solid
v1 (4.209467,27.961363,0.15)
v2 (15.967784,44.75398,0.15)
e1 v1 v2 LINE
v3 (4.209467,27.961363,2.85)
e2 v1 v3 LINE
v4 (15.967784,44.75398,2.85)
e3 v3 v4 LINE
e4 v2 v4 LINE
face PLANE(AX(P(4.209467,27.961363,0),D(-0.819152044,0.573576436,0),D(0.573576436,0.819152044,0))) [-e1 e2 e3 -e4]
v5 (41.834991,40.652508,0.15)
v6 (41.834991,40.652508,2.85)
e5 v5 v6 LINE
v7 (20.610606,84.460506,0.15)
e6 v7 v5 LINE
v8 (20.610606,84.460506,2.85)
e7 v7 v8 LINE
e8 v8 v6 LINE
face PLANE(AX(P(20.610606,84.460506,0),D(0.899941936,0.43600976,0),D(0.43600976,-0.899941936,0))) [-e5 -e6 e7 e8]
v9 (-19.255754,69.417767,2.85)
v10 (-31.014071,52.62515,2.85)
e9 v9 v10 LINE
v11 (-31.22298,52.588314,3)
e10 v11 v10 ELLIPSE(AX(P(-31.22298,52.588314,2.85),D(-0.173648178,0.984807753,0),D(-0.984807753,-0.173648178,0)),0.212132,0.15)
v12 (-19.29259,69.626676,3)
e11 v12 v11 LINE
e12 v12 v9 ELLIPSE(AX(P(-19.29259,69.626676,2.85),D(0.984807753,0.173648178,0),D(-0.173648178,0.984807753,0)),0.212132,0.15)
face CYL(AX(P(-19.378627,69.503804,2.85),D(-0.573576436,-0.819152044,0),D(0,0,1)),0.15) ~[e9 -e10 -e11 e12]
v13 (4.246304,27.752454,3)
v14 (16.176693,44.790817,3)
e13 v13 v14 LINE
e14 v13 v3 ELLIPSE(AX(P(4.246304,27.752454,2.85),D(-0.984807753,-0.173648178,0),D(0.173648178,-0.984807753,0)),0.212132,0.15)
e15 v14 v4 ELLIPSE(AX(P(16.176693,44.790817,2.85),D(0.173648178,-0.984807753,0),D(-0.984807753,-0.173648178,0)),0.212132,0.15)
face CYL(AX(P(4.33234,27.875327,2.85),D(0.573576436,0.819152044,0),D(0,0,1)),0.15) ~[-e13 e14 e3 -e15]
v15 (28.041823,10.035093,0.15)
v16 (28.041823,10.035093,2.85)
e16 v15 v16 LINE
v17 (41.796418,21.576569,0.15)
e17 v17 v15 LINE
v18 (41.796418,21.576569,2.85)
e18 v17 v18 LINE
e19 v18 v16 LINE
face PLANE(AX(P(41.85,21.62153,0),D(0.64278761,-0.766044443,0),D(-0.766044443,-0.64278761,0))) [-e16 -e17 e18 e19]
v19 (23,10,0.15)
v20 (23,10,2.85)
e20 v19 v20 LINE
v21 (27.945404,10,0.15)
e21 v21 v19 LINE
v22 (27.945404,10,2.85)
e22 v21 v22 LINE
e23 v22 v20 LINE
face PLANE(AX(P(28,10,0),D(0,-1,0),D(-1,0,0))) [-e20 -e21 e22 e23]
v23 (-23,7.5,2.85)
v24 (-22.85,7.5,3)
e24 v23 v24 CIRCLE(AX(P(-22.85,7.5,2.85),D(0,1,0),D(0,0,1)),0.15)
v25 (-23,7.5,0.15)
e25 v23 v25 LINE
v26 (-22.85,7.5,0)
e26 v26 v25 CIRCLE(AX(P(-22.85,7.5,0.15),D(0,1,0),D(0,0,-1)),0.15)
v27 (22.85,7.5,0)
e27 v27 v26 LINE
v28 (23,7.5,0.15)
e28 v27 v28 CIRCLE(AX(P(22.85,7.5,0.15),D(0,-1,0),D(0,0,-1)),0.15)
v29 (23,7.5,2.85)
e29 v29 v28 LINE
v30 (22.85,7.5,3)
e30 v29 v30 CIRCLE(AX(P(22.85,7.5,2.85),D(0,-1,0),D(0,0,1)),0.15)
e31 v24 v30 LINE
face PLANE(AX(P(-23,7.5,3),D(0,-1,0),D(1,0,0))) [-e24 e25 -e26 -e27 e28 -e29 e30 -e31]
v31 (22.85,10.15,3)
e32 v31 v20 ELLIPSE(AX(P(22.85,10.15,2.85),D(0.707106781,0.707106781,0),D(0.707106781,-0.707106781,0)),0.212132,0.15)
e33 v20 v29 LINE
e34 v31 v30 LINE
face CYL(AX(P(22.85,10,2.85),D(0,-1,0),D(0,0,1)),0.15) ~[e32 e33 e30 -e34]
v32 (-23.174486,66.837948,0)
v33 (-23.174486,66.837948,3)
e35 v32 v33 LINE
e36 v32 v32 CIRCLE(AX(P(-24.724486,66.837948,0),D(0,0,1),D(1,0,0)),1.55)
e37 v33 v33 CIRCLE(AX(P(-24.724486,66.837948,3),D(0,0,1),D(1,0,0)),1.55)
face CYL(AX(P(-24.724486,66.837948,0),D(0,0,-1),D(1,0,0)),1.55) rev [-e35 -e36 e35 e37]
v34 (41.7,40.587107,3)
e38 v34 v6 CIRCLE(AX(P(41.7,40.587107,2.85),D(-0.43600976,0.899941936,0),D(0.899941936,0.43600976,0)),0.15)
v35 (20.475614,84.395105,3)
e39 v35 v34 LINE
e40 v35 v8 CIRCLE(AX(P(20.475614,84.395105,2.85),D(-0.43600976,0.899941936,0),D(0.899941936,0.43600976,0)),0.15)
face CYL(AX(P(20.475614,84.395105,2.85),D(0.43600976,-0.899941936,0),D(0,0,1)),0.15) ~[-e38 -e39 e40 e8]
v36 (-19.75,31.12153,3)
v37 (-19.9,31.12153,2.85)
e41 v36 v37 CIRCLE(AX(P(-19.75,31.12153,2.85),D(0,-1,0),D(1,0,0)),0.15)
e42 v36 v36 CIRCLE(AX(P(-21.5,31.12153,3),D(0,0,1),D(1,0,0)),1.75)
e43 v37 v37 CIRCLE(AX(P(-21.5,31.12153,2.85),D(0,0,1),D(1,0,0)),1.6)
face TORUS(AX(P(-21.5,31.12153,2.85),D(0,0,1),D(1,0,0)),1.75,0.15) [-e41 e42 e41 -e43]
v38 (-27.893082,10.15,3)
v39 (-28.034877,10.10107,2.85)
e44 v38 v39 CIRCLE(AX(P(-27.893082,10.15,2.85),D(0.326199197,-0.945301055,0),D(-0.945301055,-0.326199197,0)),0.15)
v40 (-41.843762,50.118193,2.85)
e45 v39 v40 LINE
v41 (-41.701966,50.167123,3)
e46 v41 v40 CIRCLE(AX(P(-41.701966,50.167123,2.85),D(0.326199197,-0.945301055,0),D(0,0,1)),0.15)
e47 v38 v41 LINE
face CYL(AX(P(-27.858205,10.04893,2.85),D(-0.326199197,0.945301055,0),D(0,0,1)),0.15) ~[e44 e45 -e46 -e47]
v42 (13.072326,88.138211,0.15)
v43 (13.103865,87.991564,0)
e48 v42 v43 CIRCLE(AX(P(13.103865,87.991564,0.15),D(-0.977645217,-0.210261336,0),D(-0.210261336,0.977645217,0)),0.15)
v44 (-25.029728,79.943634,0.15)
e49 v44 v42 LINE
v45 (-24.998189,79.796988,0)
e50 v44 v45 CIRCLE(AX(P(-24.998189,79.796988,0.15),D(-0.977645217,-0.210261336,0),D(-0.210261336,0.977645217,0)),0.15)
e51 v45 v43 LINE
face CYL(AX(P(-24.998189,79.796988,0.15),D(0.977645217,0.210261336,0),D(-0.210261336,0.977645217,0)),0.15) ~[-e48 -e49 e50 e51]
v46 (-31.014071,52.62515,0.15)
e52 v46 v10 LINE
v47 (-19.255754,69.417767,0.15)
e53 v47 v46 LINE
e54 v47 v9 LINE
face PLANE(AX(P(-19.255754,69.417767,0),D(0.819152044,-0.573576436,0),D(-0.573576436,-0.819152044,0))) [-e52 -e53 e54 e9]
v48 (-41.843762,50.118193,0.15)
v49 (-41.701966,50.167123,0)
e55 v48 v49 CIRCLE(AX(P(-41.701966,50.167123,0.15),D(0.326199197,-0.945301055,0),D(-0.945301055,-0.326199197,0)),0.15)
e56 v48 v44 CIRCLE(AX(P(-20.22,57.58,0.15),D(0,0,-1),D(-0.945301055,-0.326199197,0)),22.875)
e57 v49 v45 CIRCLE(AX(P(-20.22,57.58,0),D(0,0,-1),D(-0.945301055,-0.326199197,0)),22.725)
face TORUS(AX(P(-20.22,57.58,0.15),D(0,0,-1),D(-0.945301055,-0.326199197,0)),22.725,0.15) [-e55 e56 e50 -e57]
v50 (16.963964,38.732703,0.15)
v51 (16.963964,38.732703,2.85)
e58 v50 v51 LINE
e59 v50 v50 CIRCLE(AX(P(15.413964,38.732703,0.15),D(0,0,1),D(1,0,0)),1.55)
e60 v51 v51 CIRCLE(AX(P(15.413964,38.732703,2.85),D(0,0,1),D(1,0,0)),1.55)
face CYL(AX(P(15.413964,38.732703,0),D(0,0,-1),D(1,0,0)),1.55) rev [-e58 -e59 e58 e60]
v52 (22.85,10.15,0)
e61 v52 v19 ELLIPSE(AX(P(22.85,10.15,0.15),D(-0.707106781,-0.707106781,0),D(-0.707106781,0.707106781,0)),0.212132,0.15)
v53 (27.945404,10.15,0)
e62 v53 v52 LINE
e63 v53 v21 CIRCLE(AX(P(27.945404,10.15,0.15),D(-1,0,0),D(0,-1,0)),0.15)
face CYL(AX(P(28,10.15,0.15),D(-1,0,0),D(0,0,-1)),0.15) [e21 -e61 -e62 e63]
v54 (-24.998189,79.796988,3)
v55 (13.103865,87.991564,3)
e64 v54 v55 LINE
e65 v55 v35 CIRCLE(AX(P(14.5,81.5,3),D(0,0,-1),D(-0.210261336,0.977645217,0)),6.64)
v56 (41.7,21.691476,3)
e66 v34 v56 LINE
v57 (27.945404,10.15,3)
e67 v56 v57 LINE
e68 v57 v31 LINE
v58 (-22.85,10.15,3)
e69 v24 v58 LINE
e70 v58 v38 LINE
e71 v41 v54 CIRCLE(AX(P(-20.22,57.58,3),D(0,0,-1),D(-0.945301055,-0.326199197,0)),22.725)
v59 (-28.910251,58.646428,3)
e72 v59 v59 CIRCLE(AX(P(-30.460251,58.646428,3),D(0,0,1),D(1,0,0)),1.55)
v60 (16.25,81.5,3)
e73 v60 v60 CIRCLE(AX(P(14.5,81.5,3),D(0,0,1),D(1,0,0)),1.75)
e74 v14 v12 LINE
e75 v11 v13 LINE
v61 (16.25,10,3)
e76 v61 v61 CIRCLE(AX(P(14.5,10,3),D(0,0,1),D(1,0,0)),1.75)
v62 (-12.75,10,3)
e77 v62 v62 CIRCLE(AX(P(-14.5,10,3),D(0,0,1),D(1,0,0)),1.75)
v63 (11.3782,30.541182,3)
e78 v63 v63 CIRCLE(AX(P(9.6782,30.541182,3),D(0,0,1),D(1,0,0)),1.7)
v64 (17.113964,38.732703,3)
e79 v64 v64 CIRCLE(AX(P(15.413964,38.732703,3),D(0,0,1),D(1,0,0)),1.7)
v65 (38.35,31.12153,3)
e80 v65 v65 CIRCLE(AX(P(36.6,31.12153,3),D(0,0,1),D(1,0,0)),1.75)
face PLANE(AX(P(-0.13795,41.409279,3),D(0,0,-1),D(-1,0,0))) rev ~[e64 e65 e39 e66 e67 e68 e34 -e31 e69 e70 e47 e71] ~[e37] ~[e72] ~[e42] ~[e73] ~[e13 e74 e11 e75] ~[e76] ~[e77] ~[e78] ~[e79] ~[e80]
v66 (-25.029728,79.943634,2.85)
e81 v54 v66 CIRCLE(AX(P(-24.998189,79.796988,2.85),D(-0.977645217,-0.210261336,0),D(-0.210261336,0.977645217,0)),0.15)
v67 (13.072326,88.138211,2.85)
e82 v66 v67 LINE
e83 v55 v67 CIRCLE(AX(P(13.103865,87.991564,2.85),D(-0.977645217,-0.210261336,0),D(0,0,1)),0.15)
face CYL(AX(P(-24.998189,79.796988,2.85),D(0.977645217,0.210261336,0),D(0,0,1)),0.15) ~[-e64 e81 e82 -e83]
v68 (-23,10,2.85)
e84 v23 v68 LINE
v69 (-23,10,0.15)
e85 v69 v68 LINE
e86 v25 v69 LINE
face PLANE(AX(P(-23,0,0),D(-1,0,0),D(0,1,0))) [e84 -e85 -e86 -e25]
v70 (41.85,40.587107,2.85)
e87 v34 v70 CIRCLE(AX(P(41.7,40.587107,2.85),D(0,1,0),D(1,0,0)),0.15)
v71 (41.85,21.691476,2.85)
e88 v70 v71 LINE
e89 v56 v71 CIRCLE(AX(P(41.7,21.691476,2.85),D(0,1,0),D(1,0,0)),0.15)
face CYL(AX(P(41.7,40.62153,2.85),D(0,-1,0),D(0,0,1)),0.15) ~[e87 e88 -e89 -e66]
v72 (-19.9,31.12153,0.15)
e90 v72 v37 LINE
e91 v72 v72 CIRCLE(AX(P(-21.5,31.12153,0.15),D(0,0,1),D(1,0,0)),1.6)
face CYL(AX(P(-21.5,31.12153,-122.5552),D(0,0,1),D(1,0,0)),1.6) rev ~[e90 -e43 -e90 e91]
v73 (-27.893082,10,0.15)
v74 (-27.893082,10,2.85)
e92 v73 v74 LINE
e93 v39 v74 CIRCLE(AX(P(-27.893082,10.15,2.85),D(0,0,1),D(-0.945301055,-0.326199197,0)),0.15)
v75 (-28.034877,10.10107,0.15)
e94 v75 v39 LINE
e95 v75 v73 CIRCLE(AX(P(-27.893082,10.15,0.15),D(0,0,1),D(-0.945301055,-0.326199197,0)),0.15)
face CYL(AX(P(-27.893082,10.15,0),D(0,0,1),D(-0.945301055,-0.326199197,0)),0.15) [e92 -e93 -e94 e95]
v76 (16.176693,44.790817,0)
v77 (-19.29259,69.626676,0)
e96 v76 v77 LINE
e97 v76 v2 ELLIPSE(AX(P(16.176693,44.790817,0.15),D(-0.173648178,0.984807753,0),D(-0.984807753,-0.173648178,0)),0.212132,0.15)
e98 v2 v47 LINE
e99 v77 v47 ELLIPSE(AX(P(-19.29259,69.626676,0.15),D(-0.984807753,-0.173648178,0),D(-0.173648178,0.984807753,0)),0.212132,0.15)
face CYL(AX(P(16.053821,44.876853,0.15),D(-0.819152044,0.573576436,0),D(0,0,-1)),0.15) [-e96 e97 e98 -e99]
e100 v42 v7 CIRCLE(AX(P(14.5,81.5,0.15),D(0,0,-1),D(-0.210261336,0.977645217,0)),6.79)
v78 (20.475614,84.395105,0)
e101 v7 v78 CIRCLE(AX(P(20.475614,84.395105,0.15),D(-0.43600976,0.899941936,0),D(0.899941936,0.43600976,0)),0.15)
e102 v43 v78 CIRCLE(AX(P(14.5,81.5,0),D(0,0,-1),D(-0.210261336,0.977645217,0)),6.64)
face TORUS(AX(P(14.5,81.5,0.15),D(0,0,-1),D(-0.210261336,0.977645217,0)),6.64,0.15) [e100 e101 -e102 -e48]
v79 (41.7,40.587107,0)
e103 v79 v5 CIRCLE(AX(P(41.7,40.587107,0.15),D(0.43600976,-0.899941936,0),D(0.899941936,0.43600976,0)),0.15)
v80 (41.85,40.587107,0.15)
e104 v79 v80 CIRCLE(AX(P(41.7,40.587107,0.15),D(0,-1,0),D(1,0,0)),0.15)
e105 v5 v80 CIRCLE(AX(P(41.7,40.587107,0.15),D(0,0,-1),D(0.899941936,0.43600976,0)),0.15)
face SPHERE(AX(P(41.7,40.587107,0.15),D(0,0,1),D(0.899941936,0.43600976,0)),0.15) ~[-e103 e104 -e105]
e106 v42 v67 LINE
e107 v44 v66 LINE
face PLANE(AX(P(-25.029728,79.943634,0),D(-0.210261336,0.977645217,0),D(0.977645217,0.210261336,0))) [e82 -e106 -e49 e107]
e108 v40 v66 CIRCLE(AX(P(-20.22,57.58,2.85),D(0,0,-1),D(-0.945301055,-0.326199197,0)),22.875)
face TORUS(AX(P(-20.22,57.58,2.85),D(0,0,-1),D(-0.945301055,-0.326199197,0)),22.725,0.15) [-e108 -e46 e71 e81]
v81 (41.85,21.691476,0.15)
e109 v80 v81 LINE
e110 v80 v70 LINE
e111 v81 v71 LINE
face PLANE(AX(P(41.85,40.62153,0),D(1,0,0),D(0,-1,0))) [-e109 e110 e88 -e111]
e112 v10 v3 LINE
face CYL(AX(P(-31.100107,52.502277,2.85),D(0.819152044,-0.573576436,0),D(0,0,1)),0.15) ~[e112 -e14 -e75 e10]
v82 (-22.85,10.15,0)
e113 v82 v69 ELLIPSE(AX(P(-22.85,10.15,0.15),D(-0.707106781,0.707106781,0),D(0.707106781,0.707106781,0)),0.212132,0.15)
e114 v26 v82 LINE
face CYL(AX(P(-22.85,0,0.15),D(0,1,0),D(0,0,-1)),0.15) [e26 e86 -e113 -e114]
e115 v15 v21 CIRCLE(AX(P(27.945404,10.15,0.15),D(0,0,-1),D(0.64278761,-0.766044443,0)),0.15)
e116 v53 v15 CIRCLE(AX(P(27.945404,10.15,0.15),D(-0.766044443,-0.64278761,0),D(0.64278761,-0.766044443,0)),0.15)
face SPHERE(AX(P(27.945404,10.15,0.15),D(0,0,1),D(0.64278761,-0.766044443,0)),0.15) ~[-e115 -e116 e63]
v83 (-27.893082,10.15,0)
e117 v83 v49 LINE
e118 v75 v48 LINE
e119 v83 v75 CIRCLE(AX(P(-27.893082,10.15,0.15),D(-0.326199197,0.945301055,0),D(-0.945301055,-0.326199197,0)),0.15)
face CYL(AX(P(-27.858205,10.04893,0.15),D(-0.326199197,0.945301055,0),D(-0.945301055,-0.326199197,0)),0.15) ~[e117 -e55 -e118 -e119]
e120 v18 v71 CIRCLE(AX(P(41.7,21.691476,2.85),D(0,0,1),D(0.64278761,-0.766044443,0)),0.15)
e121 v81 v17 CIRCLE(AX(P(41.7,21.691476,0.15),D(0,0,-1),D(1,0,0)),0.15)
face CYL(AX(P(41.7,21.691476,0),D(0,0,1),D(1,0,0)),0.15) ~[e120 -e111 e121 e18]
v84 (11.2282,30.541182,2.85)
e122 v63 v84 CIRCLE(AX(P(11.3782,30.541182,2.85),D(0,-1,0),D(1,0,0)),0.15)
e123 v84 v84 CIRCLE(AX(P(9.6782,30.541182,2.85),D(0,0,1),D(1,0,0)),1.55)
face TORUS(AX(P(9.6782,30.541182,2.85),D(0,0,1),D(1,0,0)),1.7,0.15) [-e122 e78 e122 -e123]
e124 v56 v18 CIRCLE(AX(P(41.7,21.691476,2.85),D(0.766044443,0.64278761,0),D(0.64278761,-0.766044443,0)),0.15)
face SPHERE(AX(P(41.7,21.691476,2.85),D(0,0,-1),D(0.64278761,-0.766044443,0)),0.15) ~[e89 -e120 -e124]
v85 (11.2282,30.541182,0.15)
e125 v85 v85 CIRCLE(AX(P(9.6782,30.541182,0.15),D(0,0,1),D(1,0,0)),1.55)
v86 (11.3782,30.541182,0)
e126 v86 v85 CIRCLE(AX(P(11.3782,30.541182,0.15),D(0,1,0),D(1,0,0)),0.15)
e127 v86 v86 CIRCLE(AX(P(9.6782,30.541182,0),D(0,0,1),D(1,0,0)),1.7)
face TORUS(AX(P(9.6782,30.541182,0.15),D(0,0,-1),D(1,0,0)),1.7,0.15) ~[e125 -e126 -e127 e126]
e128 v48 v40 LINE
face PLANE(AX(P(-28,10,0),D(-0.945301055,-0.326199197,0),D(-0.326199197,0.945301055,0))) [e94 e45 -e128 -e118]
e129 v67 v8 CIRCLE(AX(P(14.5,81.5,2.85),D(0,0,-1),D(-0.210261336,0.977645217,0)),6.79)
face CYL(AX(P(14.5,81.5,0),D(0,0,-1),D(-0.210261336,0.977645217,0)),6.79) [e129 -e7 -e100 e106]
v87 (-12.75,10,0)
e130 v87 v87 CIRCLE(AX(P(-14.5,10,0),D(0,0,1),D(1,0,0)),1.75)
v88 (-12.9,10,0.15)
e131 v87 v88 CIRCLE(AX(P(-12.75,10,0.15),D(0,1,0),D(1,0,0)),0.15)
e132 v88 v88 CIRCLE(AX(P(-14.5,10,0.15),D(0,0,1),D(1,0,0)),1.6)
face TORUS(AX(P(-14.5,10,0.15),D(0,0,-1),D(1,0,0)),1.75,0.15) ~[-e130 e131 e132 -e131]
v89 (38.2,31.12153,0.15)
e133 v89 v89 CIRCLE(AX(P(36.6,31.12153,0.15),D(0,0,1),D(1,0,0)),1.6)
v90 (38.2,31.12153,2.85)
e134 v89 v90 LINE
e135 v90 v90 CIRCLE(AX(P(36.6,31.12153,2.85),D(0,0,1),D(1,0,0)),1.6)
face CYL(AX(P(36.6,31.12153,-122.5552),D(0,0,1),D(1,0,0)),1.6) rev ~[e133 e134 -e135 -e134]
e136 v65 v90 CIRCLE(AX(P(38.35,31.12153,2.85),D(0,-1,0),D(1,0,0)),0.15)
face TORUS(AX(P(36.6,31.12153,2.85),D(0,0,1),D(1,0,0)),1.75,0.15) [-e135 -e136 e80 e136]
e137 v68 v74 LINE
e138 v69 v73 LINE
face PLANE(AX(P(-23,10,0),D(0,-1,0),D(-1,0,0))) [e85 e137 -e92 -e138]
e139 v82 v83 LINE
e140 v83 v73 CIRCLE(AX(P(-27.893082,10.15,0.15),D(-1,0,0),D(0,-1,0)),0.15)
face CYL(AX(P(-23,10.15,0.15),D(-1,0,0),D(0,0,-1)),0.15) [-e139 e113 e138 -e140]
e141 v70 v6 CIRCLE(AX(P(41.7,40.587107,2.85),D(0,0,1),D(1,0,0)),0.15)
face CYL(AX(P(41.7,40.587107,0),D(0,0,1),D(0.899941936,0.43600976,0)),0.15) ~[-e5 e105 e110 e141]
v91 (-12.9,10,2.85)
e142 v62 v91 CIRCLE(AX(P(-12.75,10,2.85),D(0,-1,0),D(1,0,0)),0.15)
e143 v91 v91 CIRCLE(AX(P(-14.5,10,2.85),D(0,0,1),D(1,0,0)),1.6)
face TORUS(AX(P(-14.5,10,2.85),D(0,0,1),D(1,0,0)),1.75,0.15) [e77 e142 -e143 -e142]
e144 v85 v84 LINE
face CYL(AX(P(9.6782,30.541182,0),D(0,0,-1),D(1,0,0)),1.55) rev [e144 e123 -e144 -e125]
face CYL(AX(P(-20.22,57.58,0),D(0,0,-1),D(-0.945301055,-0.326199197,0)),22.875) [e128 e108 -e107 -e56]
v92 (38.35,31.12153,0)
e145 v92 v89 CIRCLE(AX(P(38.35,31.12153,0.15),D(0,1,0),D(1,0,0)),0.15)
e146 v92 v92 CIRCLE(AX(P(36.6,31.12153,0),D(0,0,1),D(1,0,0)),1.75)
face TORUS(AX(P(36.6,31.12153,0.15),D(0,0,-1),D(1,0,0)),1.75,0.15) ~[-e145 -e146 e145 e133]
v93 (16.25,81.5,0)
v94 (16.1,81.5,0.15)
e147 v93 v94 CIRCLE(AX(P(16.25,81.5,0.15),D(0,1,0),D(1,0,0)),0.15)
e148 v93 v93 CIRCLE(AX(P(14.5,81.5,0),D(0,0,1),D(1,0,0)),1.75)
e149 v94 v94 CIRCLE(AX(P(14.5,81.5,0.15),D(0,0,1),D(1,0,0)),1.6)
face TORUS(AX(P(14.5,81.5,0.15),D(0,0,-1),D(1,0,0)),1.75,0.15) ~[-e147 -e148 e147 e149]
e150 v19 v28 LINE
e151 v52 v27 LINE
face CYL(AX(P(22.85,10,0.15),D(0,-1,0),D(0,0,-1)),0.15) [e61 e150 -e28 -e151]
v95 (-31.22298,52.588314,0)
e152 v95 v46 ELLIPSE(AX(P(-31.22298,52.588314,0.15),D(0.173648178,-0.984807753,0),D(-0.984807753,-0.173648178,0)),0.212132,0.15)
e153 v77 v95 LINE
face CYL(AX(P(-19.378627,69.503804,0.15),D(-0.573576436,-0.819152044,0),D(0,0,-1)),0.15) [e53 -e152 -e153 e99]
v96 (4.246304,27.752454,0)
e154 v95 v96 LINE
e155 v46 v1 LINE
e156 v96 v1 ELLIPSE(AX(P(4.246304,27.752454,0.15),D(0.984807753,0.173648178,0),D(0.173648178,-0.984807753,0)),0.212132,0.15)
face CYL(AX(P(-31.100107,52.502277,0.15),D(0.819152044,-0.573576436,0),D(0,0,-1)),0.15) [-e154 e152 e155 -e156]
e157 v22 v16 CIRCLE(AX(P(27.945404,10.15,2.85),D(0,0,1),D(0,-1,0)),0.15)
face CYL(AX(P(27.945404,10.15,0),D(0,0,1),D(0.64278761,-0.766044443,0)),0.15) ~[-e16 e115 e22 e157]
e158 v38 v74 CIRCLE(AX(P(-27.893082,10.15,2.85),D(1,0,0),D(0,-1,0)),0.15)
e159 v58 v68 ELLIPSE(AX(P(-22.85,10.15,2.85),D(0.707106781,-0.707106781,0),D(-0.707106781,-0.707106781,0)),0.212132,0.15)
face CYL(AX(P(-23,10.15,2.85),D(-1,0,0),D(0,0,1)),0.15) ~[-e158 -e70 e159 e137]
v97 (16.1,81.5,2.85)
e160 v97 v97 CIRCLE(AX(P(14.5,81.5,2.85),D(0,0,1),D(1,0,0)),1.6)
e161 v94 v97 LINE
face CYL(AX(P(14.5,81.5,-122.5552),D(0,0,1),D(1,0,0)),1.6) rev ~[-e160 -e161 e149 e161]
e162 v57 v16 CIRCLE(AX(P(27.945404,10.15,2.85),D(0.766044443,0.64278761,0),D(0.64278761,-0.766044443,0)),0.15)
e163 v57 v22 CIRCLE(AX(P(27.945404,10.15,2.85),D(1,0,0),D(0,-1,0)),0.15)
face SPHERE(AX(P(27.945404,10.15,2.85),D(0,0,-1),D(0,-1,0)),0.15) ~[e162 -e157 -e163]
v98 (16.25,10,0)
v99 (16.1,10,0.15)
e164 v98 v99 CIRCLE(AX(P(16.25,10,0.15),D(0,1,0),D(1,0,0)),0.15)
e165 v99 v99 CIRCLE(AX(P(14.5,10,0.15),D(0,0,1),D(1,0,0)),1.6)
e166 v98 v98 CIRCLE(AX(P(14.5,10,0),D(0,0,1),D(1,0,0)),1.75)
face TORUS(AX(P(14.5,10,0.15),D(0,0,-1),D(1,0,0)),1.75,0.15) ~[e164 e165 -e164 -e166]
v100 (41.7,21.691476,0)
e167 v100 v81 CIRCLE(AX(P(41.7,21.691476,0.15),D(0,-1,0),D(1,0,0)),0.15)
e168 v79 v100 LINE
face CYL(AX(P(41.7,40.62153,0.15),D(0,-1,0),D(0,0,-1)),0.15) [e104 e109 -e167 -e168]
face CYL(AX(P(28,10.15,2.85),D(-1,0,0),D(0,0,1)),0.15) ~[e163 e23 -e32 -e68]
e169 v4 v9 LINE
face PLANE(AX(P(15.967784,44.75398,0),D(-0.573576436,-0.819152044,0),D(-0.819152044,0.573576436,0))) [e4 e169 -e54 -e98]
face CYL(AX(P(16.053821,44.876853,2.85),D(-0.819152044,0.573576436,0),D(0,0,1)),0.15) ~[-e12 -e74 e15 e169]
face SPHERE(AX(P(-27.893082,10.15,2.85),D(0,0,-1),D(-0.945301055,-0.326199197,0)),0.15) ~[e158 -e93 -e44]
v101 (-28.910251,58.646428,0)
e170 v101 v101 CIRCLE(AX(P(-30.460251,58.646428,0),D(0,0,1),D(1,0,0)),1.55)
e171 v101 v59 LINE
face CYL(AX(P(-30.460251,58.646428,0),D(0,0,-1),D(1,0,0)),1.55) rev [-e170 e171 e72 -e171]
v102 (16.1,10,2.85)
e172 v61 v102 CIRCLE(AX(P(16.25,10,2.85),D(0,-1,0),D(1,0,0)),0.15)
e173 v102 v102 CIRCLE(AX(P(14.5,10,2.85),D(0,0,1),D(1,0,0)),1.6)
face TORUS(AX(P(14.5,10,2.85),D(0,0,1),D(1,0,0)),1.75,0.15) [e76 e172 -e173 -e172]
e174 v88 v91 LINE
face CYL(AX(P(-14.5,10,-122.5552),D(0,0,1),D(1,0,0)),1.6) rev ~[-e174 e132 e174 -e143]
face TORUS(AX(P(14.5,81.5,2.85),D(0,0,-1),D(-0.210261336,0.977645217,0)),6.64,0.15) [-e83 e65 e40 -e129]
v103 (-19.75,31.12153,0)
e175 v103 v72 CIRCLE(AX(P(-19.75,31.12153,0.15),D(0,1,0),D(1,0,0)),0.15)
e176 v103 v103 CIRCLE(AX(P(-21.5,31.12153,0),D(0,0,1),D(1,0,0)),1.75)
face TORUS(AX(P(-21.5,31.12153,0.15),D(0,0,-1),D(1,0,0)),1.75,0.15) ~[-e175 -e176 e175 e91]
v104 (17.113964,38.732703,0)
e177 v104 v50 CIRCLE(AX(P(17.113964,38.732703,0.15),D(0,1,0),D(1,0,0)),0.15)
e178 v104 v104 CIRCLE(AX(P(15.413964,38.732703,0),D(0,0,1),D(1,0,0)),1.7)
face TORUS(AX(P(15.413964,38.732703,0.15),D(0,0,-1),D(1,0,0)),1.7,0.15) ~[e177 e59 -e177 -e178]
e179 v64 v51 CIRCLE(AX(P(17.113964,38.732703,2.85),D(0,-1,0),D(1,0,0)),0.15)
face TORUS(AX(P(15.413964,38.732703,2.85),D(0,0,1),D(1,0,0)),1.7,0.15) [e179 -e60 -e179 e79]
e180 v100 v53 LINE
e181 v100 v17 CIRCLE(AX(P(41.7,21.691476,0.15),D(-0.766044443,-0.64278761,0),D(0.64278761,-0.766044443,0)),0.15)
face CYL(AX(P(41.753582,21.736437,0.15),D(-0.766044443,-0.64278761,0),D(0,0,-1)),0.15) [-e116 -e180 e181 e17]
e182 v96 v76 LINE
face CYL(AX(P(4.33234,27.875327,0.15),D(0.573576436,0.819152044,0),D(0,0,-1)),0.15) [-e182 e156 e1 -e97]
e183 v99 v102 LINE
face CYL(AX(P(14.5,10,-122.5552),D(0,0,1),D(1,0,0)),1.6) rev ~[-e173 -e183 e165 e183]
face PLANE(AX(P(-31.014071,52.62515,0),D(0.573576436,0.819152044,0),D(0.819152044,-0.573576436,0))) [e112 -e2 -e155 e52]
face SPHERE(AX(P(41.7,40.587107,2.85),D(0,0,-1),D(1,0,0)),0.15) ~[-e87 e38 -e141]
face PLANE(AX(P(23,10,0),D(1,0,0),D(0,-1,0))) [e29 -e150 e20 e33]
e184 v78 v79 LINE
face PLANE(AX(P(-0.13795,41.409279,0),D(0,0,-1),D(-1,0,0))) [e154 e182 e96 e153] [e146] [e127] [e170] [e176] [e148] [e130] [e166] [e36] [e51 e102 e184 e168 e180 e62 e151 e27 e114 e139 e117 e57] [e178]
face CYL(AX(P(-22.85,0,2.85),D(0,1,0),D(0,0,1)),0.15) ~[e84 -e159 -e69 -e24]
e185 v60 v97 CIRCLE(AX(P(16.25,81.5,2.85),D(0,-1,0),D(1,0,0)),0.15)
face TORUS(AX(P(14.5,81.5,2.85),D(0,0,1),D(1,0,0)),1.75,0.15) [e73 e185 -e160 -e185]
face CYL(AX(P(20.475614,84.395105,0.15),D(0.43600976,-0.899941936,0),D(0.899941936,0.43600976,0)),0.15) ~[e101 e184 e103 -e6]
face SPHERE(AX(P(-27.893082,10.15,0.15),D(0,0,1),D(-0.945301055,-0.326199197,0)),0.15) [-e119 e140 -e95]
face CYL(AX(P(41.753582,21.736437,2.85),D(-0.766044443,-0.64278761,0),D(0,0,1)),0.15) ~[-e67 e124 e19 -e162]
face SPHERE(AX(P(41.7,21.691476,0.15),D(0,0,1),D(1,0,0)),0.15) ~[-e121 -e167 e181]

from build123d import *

# Parameters (mm, degrees)
SKETCH1_R            = 1.55
BOSS_EXTRUDE1_DEPTH  = 3
M3_CLEARANCE_HOLE1_D = 3.2
FILLET1_R            = 0.15
SKETCH13_W           = 46
SKETCH13_H           = 7.5
CUT_EXTRUDE1_DEPTH   = 4


with BuildPart() as part:
    # Sketch1 → Boss-Extrude1 (new body)
    with BuildSketch(Plane.XY):
        with BuildLine():
            Line((-25.029728066, 79.943634341), (13.072325527, 88.138211024))
            ThreePointArc((13.072325527, 88.138211024), (17.477220077, 87.602479874), (20.610605748, 84.460506273))
            Line((20.610605748, 84.460506273), (41.85, 40.621529892))
            Line((41.85, 40.621529892), (41.85, 21.621529892))
            Line((41.85, 21.621529892), (28, 10))
            Line((28, 10), (23, 10))
            Line((23, 10), (23, 0))
            Line((23, 0), (-23, 0))
            Line((-23, 0), (-23, 10))
            Line((-23, 10), (-28, 10))
            Line((-28, 10), (-41.843761624, 50.118193368))
            ThreePointArc((-41.843761624, 50.118193368), (-40.146654928, 68.813612437), (-25.029728066, 79.943634341))
        make_face()
        with Locations((9.67819959, 30.541182325)):
            Circle(SKETCH1_R, mode=Mode.SUBTRACT)
        with Locations((15.413963953, 38.732702767)):
            Circle(SKETCH1_R, mode=Mode.SUBTRACT)
        with Locations((-24.724486217, 66.837948149)):
            Circle(SKETCH1_R, mode=Mode.SUBTRACT)
        with Locations((-30.46025058, 58.646427706)):
            Circle(SKETCH1_R, mode=Mode.SUBTRACT)
        Polygon((-19.255753793, 69.417767072), (-31.014070738, 52.625150164), (4.209467166, 27.961363401), (15.967784111, 44.753980309), align=None, mode=Mode.SUBTRACT)
    extrude(amount=BOSS_EXTRUDE1_DEPTH)

    # M3 Clearance Hole1 (through all)
    with Locations(Plane(origin=(0, 0, 0), x_dir=(-1, 0, 0), z_dir=(0, 0, -1))):
        with Locations((-14.5, 81.5), (-36.6, 31.121529892), (-14.5, 10), (14.5, 10), (21.5, 31.121529892)):
            Hole(M3_CLEARANCE_HOLE1_D / 2)

    # Fillet1
    fillet1_edges = [part.edges().sort_by_distance(p)[0] for p in [
        (-5.978701269, 84.040922682, 0),
        (17.477220077, 87.602479874, 0),
        (-25.5, 10, 3),
        (31.230302874, 62.541018083, 0),
        (41.85, 31.121529892, 0),
        (34.925, 15.810764946, 0),
        (25.5, 10, 0),
        (23, 5, 0),
        (0, 0, 0),
        (-23, 5, 0),
        (-25.5, 10, 0),
        (-34.921880812, 30.059096684, 0),
        (-40.146654928, 68.813612437, 0),
        (-23, 5, 3),
        (0, 0, 3),
        (41.85, 40.621529892, 1.5),
        (41.85, 21.621529892, 1.5),
        (28, 10, 1.5),
        (23, 0, 1.5),
        (-23, 0, 1.5),
        (-28, 10, 1.5),
        (23, 5, 3),
        (25.5, 10, 3),
        (34.925, 15.810764946, 3),
        (-1.643984841, 57.085873691, 0),
        (-25.134912266, 61.021458618, 0),
        (-13.402301786, 40.293256783, 0),
        (10.088625639, 36.357671855, 0),
        (-1.643984841, 57.085873691, 3),
        (-25.134912266, 61.021458618, 3),
        (-13.402301786, 40.293256783, 3),
        (10.088625639, 36.357671855, 3),
        (41.85, 31.121529892, 3),
        (31.230302874, 62.541018083, 3),
        (13.863963953, 38.732702767, 0),
        (13.863963953, 38.732702767, 3),
        (17.477220077, 87.602479874, 3),
        (8.12819959, 30.541182325, 0),
        (8.12819959, 30.541182325, 3),
        (-5.978701269, 84.040922682, 3),
        (-40.146654928, 68.813612437, 3),
        (-23.1, 31.121529892, 0),
        (-23.1, 31.121529892, 3),
        (-16.1, 10, 0),
        (-16.1, 10, 3),
        (12.9, 10, 0),
        (12.9, 10, 3),
        (35, 31.121529892, 0),
        (35, 31.121529892, 3),
        (12.9, 81.5, 0),
        (12.9, 81.5, 3),
        (-34.921880812, 30.059096684, 3),
    ]]
    fillet(fillet1_edges, radius=FILLET1_R)

    # Sketch13 → Cut-Extrude1 (cut, through all)
    with BuildSketch(Plane.XY.offset(3)):
        with Locations((0, 3.75)):
            Rectangle(SKETCH13_W, SKETCH13_H)
    extrude(amount=-CUT_EXTRUDE1_DEPTH, mode=Mode.SUBTRACT)


solid = part.part
